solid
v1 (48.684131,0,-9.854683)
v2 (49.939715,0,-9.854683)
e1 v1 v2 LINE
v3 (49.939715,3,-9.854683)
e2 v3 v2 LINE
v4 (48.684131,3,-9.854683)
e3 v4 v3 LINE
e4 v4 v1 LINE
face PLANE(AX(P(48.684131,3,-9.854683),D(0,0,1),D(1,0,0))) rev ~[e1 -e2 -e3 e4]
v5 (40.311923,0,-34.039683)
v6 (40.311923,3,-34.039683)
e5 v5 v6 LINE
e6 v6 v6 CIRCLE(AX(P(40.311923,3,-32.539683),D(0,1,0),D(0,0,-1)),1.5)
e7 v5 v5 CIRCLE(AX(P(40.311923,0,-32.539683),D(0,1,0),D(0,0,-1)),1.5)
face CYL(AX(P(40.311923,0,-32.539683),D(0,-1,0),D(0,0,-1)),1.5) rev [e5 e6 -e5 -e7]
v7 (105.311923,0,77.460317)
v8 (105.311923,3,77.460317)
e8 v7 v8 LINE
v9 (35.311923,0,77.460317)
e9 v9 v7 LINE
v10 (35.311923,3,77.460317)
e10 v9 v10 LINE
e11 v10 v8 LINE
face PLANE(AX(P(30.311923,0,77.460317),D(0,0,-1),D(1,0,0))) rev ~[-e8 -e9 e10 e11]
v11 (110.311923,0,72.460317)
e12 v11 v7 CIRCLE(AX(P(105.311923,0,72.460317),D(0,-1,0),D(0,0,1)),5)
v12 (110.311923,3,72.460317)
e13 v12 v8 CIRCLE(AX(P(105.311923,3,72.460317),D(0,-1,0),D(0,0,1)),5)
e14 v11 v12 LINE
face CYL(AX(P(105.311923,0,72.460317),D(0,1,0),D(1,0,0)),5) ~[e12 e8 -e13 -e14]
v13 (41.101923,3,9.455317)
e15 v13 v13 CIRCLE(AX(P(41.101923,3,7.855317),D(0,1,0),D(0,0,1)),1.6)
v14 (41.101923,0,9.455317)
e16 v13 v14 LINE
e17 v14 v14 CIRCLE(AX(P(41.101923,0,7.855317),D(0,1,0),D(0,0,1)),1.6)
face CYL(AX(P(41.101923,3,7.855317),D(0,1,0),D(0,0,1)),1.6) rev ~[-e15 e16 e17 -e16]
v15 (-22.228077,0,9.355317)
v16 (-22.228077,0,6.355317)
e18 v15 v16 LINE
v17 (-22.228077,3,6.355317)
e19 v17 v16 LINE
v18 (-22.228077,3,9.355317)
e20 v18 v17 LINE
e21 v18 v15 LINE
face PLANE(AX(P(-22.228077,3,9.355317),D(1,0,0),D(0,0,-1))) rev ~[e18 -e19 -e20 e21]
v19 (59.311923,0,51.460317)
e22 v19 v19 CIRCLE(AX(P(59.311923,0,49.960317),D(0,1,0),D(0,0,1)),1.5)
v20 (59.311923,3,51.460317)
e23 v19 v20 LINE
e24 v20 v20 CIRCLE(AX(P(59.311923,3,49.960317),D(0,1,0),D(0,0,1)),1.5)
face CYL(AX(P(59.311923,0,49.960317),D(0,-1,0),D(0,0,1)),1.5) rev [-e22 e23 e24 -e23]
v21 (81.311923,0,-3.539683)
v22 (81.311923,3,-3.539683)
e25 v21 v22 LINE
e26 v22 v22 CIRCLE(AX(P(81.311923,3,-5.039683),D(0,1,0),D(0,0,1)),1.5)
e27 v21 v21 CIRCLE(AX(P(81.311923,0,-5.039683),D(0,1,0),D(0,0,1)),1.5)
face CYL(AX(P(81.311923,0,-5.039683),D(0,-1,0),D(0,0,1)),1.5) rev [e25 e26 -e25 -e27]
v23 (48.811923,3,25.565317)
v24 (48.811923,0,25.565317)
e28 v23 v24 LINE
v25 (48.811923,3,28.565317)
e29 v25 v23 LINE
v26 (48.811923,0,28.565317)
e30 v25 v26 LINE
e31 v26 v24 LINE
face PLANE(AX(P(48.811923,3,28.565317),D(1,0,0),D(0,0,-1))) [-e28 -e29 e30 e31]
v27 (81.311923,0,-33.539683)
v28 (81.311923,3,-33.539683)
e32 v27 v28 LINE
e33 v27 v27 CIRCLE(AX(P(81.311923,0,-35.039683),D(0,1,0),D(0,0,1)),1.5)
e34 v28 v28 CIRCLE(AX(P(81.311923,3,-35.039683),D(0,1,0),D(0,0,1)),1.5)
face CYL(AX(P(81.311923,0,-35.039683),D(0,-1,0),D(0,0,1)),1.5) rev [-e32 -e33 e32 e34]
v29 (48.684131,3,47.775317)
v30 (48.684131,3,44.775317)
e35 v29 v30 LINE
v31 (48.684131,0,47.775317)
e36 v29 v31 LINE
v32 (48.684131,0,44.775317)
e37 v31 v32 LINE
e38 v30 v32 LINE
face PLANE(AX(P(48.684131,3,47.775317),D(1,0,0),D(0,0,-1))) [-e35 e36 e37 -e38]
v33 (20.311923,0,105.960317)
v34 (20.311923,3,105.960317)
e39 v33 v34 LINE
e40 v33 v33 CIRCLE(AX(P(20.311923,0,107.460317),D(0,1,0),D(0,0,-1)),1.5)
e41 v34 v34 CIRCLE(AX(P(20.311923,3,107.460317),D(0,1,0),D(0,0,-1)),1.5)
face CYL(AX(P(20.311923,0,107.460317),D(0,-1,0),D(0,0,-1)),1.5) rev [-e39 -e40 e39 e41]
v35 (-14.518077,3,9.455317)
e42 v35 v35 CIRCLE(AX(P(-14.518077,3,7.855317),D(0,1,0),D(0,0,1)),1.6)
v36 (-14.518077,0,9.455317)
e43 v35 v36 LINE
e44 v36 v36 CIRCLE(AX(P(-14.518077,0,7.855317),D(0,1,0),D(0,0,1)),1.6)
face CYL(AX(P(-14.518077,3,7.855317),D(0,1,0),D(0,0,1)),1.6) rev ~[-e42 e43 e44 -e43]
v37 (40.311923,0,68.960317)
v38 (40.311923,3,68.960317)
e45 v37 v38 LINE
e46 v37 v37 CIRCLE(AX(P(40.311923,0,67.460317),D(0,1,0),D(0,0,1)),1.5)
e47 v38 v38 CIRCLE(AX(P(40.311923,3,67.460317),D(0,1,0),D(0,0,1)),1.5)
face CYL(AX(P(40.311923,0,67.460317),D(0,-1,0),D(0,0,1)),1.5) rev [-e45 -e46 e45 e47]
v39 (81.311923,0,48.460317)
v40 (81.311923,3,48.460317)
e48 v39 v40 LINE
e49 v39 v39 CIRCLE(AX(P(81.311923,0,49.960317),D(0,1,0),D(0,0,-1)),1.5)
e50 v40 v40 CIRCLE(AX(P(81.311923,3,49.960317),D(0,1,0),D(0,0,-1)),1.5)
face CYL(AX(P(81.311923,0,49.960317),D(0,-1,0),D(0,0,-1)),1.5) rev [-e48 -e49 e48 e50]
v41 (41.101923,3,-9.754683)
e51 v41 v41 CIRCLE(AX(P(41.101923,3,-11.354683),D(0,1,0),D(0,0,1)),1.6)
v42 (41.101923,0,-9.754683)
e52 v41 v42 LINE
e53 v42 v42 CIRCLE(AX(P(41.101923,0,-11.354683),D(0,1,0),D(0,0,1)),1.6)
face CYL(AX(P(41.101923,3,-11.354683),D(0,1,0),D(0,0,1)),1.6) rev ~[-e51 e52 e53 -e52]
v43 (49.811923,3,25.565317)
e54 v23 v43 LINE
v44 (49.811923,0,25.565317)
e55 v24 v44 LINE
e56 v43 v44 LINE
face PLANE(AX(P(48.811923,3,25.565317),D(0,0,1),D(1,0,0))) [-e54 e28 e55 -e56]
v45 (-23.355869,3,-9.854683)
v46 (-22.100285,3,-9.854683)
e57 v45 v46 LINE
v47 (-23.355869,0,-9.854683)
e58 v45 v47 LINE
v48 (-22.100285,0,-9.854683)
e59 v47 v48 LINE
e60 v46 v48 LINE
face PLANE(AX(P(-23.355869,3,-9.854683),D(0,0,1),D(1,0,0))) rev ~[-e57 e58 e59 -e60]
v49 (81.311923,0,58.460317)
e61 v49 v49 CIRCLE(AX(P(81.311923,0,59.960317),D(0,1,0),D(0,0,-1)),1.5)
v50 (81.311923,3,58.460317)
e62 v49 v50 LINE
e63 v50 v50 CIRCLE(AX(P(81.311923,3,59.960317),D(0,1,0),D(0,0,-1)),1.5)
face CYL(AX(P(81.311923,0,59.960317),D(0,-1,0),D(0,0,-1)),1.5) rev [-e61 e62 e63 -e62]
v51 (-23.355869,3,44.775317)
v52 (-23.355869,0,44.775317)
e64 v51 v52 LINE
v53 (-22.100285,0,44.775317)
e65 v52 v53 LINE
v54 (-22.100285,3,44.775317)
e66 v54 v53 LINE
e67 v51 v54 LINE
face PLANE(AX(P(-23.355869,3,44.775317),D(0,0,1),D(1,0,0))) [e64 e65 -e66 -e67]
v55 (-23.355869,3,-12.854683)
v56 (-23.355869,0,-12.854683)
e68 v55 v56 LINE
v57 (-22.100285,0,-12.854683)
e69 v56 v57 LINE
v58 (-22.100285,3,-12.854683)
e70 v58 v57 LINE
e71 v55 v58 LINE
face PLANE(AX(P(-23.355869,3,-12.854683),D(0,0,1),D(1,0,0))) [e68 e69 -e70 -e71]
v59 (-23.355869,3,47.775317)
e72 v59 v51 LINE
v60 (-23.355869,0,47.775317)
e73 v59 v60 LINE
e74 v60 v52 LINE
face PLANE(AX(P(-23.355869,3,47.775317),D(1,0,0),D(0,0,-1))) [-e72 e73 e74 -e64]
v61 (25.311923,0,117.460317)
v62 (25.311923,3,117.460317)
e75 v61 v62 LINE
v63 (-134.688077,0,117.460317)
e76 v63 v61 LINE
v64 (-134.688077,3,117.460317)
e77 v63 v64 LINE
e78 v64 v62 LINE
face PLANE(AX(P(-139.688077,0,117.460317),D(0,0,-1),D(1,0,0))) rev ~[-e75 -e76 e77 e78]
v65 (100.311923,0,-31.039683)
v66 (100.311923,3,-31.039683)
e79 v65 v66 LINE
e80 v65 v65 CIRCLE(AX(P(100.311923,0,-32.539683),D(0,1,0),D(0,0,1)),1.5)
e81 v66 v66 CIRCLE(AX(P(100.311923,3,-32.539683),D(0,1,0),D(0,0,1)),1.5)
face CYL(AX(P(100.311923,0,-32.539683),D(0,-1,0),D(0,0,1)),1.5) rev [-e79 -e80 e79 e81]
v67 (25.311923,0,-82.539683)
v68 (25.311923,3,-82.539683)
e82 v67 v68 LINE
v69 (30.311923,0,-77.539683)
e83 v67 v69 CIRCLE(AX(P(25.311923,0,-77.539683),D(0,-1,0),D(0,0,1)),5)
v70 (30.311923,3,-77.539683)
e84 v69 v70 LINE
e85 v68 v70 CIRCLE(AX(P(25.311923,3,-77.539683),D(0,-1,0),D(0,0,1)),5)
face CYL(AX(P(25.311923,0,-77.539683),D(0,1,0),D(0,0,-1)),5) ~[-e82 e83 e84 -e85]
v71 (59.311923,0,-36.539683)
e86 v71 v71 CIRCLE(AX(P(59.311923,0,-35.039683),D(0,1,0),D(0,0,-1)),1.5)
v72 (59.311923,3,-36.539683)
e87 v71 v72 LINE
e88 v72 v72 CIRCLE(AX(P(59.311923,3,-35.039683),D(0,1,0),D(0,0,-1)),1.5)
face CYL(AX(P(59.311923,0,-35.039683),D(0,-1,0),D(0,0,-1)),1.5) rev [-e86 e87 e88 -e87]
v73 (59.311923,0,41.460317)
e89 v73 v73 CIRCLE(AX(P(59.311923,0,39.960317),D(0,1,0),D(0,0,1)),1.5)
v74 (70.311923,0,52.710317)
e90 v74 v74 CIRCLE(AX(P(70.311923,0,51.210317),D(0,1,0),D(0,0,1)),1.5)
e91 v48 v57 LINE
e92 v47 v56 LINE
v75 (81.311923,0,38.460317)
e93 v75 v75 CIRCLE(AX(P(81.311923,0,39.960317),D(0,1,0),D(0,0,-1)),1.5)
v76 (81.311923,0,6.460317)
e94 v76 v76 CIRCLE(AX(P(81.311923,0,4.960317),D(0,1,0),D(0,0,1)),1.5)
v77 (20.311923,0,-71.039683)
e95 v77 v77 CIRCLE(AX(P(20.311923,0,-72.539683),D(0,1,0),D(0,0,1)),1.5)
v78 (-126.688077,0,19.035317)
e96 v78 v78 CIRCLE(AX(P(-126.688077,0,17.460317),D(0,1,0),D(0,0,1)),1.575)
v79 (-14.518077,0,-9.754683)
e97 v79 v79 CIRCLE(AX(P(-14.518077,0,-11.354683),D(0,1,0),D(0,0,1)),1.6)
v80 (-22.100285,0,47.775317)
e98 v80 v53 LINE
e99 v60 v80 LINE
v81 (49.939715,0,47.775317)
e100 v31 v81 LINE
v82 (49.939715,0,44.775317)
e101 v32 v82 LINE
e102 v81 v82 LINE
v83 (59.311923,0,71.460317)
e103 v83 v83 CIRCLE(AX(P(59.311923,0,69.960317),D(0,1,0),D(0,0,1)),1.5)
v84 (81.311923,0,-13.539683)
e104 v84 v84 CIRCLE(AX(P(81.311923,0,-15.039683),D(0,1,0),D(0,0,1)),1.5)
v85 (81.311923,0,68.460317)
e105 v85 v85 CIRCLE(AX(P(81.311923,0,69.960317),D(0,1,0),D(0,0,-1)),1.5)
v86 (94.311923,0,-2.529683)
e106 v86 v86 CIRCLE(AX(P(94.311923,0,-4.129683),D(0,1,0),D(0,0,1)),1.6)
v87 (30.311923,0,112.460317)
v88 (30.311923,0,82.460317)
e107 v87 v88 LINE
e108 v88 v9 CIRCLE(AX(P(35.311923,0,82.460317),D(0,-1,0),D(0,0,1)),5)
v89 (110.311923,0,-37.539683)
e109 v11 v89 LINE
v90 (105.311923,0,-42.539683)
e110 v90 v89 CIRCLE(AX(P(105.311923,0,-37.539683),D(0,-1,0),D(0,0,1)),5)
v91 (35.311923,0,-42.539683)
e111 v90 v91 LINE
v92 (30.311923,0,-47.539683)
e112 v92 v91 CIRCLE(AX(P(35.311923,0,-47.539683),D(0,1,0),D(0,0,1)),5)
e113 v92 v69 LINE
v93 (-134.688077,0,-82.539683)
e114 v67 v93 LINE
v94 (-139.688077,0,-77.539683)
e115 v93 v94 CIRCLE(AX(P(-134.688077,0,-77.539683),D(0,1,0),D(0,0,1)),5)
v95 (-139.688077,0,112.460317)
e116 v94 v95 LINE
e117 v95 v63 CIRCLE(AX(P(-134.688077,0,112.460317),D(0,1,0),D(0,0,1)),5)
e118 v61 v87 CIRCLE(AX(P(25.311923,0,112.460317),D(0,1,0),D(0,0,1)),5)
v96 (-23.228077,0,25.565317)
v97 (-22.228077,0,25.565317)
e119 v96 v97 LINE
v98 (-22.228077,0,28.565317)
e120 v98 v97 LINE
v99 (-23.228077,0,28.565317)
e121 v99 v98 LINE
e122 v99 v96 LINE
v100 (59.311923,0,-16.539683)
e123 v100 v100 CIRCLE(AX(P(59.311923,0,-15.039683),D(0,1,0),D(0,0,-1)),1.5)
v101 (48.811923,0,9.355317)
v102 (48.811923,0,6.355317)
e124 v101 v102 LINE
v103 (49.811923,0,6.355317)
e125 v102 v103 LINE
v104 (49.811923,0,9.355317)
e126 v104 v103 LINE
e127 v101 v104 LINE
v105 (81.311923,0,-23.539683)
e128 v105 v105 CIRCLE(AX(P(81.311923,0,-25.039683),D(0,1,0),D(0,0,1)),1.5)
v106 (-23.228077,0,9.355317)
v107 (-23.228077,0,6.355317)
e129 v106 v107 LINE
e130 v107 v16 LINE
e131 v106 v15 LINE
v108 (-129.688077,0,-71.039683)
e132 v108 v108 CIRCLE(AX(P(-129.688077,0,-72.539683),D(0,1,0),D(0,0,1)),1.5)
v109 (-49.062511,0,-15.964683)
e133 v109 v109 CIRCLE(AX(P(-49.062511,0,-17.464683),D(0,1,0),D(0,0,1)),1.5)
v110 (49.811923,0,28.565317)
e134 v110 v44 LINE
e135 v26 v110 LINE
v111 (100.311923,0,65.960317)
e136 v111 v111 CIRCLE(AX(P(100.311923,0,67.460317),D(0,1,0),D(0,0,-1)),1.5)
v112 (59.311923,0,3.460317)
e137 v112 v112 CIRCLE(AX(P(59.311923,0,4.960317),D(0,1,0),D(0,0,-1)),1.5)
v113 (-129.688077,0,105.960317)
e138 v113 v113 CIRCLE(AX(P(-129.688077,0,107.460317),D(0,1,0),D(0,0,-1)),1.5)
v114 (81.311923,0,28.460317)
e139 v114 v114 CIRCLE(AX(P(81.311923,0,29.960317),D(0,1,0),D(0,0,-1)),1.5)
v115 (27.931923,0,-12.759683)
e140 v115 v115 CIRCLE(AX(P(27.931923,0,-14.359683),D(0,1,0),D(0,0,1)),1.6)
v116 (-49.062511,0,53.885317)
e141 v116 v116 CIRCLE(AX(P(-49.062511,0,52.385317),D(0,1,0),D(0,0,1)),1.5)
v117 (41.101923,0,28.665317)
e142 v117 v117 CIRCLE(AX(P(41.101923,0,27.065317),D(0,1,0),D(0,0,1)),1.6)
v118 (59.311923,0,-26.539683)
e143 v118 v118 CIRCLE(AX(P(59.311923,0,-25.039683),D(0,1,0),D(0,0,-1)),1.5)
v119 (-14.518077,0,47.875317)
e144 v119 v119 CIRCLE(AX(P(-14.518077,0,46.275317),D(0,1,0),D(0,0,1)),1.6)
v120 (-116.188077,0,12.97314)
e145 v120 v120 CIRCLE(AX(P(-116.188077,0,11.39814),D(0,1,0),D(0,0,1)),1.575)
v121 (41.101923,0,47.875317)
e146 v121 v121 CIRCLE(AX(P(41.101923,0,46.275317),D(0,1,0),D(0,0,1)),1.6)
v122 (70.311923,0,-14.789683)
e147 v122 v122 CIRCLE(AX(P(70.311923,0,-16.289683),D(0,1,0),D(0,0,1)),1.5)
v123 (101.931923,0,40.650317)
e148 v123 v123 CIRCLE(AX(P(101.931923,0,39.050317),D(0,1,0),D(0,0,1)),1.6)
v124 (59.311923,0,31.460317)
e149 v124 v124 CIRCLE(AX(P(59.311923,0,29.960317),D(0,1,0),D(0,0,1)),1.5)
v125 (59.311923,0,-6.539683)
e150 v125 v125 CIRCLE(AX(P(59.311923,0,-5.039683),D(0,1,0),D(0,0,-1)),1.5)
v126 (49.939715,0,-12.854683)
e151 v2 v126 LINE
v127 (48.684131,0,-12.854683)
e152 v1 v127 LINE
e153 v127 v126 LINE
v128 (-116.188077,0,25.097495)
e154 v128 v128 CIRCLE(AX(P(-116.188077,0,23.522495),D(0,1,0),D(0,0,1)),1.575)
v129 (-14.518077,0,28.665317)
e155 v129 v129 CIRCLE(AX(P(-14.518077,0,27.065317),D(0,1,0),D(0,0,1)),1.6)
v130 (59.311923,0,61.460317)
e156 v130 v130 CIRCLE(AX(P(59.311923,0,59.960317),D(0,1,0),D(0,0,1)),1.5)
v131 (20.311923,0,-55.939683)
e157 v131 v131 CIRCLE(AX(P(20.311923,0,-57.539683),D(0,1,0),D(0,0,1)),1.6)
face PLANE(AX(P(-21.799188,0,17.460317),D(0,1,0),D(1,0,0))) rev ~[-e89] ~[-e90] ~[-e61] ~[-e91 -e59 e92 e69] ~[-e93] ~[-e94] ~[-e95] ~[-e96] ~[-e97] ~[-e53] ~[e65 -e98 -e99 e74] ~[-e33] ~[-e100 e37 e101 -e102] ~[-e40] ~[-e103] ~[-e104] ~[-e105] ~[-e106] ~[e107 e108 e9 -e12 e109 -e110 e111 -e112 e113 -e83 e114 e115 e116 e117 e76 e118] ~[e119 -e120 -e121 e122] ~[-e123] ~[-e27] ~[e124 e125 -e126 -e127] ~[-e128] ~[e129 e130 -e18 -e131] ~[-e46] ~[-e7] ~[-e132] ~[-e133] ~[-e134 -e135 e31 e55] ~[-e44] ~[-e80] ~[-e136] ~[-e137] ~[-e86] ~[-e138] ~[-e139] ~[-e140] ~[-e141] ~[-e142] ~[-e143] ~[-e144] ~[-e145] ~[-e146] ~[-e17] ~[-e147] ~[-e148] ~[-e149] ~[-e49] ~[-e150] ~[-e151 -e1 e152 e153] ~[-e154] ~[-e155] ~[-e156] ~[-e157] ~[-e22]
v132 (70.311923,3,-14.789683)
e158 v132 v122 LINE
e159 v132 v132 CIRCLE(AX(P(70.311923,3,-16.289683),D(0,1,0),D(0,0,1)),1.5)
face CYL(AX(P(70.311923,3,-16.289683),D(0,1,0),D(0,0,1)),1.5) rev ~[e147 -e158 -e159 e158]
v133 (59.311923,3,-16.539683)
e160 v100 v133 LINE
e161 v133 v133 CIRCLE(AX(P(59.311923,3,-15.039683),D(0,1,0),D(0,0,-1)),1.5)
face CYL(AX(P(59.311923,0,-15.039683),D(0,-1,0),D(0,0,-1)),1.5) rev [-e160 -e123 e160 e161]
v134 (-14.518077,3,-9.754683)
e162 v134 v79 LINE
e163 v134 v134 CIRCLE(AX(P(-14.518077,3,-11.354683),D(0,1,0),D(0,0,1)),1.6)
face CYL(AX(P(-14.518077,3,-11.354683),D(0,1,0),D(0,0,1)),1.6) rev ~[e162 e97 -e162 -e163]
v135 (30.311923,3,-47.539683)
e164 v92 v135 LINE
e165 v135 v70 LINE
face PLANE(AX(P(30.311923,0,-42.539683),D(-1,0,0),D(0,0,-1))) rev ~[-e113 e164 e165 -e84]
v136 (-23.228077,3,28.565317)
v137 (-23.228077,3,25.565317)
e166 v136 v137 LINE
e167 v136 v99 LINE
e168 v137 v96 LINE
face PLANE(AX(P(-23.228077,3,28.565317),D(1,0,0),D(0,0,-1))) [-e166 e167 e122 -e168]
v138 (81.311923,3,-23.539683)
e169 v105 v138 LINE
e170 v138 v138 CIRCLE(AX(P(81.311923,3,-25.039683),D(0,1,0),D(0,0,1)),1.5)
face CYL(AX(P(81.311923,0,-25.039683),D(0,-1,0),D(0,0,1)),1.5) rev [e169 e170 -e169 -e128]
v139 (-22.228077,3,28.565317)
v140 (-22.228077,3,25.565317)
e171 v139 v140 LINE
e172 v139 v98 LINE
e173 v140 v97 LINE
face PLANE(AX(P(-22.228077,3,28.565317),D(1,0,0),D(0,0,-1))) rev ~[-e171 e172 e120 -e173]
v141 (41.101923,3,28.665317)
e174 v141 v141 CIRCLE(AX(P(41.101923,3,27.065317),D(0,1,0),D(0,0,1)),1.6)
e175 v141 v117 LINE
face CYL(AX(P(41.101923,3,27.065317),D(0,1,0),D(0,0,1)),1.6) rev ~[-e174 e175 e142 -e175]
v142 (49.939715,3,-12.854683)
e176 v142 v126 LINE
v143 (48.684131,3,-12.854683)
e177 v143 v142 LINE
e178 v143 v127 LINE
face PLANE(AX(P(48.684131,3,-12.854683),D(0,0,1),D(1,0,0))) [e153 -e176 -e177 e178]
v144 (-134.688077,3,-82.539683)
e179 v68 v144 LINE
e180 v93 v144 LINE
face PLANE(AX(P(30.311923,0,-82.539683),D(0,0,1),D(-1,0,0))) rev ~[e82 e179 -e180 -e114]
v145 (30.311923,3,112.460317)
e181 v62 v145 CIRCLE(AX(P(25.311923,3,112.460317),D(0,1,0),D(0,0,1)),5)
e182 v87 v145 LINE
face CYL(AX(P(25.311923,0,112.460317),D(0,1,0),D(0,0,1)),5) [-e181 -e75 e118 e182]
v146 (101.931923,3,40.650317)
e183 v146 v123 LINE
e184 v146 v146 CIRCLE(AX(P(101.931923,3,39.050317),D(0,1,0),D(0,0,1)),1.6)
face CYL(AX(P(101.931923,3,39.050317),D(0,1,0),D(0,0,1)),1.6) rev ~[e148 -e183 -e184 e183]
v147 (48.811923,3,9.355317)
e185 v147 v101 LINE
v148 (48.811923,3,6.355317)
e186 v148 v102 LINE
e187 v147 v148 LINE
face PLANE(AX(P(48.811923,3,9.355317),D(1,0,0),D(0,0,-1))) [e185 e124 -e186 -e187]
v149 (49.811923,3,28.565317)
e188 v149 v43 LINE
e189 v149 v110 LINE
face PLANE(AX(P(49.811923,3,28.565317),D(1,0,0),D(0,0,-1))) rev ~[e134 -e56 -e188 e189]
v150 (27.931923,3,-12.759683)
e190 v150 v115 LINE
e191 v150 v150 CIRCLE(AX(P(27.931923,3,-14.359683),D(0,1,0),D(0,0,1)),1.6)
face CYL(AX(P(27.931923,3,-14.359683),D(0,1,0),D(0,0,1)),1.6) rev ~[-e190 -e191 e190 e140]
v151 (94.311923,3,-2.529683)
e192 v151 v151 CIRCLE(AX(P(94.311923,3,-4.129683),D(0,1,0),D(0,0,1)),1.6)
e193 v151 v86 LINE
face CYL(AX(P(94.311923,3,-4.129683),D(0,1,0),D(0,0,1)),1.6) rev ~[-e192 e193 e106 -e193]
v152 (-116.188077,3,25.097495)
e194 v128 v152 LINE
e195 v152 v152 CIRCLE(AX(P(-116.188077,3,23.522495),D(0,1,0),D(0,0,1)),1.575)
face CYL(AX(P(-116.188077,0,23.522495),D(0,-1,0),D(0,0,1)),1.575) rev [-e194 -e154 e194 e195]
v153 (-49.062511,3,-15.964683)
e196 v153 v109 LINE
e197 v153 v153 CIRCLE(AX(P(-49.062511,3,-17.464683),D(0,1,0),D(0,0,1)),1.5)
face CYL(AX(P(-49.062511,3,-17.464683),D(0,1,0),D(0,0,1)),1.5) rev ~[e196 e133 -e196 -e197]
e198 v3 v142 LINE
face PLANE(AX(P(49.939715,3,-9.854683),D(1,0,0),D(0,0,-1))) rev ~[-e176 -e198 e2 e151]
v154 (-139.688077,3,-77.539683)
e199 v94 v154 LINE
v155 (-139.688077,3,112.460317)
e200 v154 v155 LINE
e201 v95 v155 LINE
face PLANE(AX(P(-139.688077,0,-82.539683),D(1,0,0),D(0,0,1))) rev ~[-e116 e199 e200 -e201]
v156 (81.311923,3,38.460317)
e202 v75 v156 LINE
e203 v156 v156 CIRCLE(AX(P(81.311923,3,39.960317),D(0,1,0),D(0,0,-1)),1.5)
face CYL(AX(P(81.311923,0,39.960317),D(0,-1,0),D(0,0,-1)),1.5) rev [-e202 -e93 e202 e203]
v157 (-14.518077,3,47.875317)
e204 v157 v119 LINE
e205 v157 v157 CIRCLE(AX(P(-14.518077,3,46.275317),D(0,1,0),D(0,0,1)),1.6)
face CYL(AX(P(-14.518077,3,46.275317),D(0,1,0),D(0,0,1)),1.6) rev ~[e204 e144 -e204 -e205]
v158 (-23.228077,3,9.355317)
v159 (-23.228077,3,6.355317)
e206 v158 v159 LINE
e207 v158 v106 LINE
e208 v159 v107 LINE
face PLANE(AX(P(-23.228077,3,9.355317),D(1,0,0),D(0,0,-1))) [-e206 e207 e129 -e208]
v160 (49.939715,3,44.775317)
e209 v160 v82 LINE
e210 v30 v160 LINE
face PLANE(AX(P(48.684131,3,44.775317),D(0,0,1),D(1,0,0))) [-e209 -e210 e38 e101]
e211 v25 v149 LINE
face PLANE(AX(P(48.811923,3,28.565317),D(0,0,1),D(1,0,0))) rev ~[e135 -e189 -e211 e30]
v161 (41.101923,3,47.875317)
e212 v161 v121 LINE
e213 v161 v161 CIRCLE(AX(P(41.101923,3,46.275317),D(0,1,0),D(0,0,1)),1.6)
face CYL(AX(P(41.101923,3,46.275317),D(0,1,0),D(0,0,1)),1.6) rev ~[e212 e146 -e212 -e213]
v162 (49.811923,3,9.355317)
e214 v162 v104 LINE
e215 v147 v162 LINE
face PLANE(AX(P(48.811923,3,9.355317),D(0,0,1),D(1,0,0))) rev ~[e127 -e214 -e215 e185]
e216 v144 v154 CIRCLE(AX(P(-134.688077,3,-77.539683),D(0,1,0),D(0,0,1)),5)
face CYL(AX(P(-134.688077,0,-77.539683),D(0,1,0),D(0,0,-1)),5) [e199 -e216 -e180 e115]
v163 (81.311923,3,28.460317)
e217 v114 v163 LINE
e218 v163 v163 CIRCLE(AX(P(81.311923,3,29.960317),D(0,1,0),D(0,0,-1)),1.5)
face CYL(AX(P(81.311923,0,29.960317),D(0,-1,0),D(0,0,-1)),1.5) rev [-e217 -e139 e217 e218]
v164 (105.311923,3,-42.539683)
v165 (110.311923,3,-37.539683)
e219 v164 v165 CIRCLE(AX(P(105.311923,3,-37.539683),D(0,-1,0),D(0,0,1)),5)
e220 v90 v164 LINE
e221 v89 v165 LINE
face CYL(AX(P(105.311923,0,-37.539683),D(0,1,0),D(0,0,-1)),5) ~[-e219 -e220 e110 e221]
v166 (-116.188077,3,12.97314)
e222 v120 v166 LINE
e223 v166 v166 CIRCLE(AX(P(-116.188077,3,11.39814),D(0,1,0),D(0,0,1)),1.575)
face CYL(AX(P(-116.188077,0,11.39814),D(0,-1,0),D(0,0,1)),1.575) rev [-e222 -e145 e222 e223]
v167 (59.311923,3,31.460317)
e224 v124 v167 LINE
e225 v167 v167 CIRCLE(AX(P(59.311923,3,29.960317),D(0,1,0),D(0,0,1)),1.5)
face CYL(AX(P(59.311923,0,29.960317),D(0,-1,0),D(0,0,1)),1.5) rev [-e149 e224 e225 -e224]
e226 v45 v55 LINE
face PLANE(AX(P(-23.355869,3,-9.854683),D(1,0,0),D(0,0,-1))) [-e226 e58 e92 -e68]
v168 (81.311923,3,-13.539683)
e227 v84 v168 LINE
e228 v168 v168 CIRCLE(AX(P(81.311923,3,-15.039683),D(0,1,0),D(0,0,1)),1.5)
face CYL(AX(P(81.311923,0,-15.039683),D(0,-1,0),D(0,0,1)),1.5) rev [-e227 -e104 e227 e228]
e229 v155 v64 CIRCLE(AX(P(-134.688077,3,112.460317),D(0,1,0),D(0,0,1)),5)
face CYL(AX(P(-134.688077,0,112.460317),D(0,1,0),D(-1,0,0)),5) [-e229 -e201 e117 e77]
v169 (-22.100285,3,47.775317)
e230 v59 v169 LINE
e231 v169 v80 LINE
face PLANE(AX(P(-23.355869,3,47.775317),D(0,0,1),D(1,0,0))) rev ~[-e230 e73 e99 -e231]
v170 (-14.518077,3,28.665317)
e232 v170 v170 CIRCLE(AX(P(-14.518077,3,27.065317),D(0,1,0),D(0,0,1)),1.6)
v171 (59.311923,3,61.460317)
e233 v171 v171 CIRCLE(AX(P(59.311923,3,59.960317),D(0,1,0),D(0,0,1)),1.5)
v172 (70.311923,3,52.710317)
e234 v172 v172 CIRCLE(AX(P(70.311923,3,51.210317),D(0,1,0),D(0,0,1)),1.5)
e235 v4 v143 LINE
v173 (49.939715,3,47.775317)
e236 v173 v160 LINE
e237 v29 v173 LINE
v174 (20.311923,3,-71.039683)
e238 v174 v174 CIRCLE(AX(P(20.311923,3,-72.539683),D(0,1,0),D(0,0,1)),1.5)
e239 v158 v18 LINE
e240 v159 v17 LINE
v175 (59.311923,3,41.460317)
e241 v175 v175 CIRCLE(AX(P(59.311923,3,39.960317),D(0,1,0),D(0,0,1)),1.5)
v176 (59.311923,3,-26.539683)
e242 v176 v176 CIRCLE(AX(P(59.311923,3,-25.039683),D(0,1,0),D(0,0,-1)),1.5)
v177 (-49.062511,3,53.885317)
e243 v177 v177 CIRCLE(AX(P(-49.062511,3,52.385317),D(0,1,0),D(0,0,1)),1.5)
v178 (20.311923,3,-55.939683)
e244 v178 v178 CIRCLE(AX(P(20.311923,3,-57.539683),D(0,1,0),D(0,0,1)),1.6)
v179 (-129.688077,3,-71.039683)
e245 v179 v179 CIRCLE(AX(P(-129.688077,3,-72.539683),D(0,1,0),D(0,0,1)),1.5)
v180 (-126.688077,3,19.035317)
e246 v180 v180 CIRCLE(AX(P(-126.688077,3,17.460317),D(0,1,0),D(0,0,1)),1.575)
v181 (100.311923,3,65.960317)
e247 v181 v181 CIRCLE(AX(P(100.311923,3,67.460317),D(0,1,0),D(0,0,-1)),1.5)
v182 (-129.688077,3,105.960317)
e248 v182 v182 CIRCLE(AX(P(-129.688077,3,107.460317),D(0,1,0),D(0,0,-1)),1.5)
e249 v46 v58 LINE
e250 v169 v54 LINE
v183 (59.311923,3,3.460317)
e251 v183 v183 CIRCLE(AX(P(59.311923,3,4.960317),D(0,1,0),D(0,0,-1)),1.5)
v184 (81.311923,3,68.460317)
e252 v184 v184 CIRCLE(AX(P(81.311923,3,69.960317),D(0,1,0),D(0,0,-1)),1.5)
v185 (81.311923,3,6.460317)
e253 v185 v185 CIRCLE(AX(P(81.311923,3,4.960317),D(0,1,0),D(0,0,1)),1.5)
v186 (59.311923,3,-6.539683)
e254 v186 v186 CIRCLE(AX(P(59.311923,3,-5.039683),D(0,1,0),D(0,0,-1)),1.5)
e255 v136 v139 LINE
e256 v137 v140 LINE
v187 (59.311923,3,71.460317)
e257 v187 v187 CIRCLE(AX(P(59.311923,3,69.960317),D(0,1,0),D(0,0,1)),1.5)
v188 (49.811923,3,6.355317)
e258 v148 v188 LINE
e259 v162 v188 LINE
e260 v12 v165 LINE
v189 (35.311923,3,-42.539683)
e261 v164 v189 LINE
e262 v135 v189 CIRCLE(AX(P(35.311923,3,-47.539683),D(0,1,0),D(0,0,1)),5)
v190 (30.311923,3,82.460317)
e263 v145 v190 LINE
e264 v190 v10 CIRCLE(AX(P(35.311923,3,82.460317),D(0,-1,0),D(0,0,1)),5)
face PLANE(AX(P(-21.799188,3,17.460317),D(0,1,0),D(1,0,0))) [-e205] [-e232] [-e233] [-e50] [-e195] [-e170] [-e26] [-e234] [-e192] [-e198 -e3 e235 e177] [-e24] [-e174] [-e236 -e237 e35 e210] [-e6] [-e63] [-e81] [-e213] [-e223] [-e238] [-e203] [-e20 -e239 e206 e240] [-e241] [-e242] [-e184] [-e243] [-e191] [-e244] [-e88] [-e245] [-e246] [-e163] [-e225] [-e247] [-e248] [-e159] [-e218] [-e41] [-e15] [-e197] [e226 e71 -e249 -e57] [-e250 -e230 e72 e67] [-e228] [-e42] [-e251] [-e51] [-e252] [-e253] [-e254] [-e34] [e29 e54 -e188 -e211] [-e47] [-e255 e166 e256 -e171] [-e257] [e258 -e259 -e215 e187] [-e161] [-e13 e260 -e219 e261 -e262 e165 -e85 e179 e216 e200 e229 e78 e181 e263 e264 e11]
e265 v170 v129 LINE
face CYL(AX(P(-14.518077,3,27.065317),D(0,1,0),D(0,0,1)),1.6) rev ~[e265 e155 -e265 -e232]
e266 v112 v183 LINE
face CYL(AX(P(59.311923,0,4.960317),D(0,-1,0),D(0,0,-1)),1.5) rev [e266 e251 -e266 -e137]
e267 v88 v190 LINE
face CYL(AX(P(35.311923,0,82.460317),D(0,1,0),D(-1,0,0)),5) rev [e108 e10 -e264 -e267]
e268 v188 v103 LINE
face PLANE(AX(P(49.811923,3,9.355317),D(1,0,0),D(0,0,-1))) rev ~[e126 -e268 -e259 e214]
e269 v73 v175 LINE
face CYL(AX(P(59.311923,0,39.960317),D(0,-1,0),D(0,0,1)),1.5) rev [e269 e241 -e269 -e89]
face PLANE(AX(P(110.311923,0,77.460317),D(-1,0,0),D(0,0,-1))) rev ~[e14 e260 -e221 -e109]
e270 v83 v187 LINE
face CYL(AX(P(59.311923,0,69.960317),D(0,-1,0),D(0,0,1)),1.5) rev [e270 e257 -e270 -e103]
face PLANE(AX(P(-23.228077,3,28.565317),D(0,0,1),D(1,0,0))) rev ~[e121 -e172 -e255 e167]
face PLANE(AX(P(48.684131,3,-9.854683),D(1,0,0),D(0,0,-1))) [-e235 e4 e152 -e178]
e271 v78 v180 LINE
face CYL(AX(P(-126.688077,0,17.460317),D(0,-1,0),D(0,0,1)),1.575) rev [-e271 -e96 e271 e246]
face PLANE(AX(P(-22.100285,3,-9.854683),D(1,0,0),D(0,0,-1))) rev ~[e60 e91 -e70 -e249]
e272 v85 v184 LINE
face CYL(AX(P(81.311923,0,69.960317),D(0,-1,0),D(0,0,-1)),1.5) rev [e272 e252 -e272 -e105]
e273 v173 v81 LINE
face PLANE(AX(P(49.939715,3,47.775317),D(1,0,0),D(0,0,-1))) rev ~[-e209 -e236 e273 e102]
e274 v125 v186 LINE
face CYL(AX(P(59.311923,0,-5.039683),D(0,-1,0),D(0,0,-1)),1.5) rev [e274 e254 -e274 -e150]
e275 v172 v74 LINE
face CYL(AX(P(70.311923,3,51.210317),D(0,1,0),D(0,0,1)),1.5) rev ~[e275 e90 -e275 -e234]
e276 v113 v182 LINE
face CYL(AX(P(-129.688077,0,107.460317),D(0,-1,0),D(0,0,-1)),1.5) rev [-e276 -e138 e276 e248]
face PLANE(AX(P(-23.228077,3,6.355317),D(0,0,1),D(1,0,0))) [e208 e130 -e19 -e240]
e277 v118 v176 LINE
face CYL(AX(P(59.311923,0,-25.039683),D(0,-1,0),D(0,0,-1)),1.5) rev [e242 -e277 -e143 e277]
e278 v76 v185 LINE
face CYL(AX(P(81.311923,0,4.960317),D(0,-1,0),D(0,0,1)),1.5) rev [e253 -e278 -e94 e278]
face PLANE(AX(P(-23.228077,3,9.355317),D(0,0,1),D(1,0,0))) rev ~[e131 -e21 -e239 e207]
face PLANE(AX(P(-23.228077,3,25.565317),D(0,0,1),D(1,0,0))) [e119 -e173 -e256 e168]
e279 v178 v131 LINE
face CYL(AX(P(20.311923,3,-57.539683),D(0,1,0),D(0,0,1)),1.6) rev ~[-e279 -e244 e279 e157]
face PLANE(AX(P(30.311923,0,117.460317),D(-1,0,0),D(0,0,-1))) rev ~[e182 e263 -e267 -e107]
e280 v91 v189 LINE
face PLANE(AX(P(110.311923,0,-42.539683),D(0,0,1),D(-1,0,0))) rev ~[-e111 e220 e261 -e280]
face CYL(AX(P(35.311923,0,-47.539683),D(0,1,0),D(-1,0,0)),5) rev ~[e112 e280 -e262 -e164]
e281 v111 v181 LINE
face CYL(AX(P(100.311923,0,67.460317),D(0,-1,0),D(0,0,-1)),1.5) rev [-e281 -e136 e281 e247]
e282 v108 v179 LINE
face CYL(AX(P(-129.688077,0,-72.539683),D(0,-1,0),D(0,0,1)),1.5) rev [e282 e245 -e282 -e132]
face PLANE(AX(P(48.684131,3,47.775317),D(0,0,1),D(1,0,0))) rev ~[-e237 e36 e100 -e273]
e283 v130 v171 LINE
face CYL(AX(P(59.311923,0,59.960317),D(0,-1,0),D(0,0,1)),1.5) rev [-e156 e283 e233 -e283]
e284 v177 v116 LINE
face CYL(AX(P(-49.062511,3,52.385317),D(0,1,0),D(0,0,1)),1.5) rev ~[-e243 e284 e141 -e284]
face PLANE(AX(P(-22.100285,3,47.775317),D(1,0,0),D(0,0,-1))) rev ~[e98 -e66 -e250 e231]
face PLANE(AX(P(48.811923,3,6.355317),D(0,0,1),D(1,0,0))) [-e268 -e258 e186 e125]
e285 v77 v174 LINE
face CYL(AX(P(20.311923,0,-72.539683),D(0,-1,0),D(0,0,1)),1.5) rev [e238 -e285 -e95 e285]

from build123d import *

# Parameters (mm, degrees)
SKETCH1_R           = 1.575
SKETCH1_R_2         = 1.5
BOSS_EXTRUDE1_DEPTH = 3
FILLET1_R           = 5
SKETCH2_R           = 1.6
SKETCH2_R_2         = 1.5
SKETCH2_W           = 1
SKETCH2_H           = 3
SKETCH2_W_2         = 1.255583802
CUT_EXTRUDE1_DEPTH  = 3


with BuildPart() as part:
    # Sketch1 → Boss-Extrude1 (new body)
    with BuildSketch(Plane(origin=(0, 0, 0), x_dir=(1, 0, 0), z_dir=(0, 1, 0))):
        Polygon((30.311923219, 82.53968254), (-139.688076781, 82.53968254), (-139.688076781, -117.46031746), (30.311923219, -117.46031746), (30.311923219, -77.46031746), (110.311923219, -77.46031746), (110.311923219, 42.53968254), (30.311923219, 42.53968254), align=None)
        with Locations(Location((-126.688076781, -17.46031746, 0), (0, 0, 270))):
            Circle(SKETCH1_R, mode=Mode.SUBTRACT)
        with Locations(Location((-116.188076781, -11.398139634, 0), (0, 0, 270))):
            Circle(SKETCH1_R, mode=Mode.SUBTRACT)
        with Locations(Location((-116.188076781, -23.522495287, 0), (0, 0, 270))):
            Circle(SKETCH1_R, mode=Mode.SUBTRACT)
        with Locations(Location((-129.688076781, 72.53968254, 0), (0, 0, 270))):
            Circle(SKETCH1_R_2, mode=Mode.SUBTRACT)
        with Locations(Location((20.311923219, 72.53968254, 0), (0, 0, 270))):
            Circle(SKETCH1_R_2, mode=Mode.SUBTRACT)
        with Locations(Location((81.311923219, 35.03968254, 0), (0, 0, 270))):
            Circle(SKETCH1_R_2, mode=Mode.SUBTRACT)
        with Locations(Location((81.311923219, 25.03968254, 0), (0, 0, 270))):
            Circle(SKETCH1_R_2, mode=Mode.SUBTRACT)
        with Locations(Location((81.311923219, 15.03968254, 0), (0, 0, 270))):
            Circle(SKETCH1_R_2, mode=Mode.SUBTRACT)
        with Locations(Location((81.311923219, 5.03968254, 0), (0, 0, 270))):
            Circle(SKETCH1_R_2, mode=Mode.SUBTRACT)
        with Locations(Location((81.311923219, -4.96031746, 0), (0, 0, 270))):
            Circle(SKETCH1_R_2, mode=Mode.SUBTRACT)
        with Locations(Location((59.311923219, -4.96031746, 0), (0, 0, 90))):
            Circle(SKETCH1_R_2, mode=Mode.SUBTRACT)
        with Locations(Location((59.311923219, 5.03968254, 0), (0, 0, 90))):
            Circle(SKETCH1_R_2, mode=Mode.SUBTRACT)
        with Locations(Location((59.311923219, 15.03968254, 0), (0, 0, 90))):
            Circle(SKETCH1_R_2, mode=Mode.SUBTRACT)
        with Locations(Location((59.311923219, 25.03968254, 0), (0, 0, 90))):
            Circle(SKETCH1_R_2, mode=Mode.SUBTRACT)
        with Locations(Location((59.311923219, 35.03968254, 0), (0, 0, 90))):
            Circle(SKETCH1_R_2, mode=Mode.SUBTRACT)
        with Locations(Location((81.311923219, -69.96031746, 0), (0, 0, 90))):
            Circle(SKETCH1_R_2, mode=Mode.SUBTRACT)
        with Locations(Location((81.311923219, -59.96031746, 0), (0, 0, 90))):
            Circle(SKETCH1_R_2, mode=Mode.SUBTRACT)
        with Locations(Location((81.311923219, -49.96031746, 0), (0, 0, 90))):
            Circle(SKETCH1_R_2, mode=Mode.SUBTRACT)
        with Locations(Location((81.311923219, -39.96031746, 0), (0, 0, 90))):
            Circle(SKETCH1_R_2, mode=Mode.SUBTRACT)
        with Locations(Location((81.311923219, -29.96031746, 0), (0, 0, 90))):
            Circle(SKETCH1_R_2, mode=Mode.SUBTRACT)
        with Locations(Location((59.311923219, -29.96031746, 0), (0, 0, 270))):
            Circle(SKETCH1_R_2, mode=Mode.SUBTRACT)
        with Locations(Location((59.311923219, -39.96031746, 0), (0, 0, 270))):
            Circle(SKETCH1_R_2, mode=Mode.SUBTRACT)
        with Locations(Location((59.311923219, -49.96031746, 0), (0, 0, 270))):
            Circle(SKETCH1_R_2, mode=Mode.SUBTRACT)
        with Locations(Location((59.311923219, -59.96031746, 0), (0, 0, 270))):
            Circle(SKETCH1_R_2, mode=Mode.SUBTRACT)
        with Locations(Location((59.311923219, -69.96031746, 0), (0, 0, 270))):
            Circle(SKETCH1_R_2, mode=Mode.SUBTRACT)
        with Locations(Location((100.311923219, 32.53968254, 0), (0, 0, 270))):
            Circle(SKETCH1_R_2, mode=Mode.SUBTRACT)
        with Locations(Location((40.311923219, 32.53968254, 0), (0, 0, 90))):
            Circle(SKETCH1_R_2, mode=Mode.SUBTRACT)
        with Locations(Location((100.311923219, -67.46031746, 0), (0, 0, 90))):
            Circle(SKETCH1_R_2, mode=Mode.SUBTRACT)
        with Locations(Location((40.311923219, -67.46031746, 0), (0, 0, 270))):
            Circle(SKETCH1_R_2, mode=Mode.SUBTRACT)
        with Locations(Location((20.311923219, -107.46031746, 0), (0, 0, 90))):
            Circle(SKETCH1_R_2, mode=Mode.SUBTRACT)
        with Locations(Location((-129.688076781, -107.46031746, 0), (0, 0, 90))):
            Circle(SKETCH1_R_2, mode=Mode.SUBTRACT)
    extrude(amount=BOSS_EXTRUDE1_DEPTH)

    # Fillet1
    fillet1_edges = [part.edges().sort_by_distance(p)[0] for p in [
        (-139.688076781, 1.5, -82.53968254),
        (30.311923219, 1.5, -82.53968254),
        (30.311923219, 1.5, -42.53968254),
        (110.311923219, 1.5, -42.53968254),
        (110.311923219, 1.5, 77.46031746),
        (30.311923219, 1.5, 77.46031746),
        (30.311923219, 1.5, 117.46031746),
        (-139.688076781, 1.5, 117.46031746),
    ]]
    fillet(fillet1_edges, radius=FILLET1_R)

    # Sketch2 → Cut-Extrude1 (cut)
    with BuildSketch(Plane(origin=(0, 3, 0), x_dir=(1, 0, 0), z_dir=(0, 1, 0))):
        with Locations(Location((101.931923219, -39.05031746, 0), (0, 0, 270))):
            Circle(SKETCH2_R)
        with Locations(Location((94.311923219, 4.12968254, 0), (0, 0, 270))):
            Circle(SKETCH2_R)
        with Locations(Location((41.101923219, -7.85531746, 0), (0, 0, 270))):
            Circle(SKETCH2_R)
        with Locations(Location((41.101923219, 11.35468254, 0), (0, 0, 270))):
            Circle(SKETCH2_R)
        with Locations(Location((41.101923219, -46.27531746, 0), (0, 0, 270))):
            Circle(SKETCH2_R)
        with Locations(Location((41.101923219, -27.06531746, 0), (0, 0, 270))):
            Circle(SKETCH2_R)
        with Locations(Location((-14.518076781, -7.85531746, 0), (0, 0, 270))):
            Circle(SKETCH2_R)
        with Locations(Location((-14.518076781, 11.35468254, 0), (0, 0, 270))):
            Circle(SKETCH2_R)
        with Locations(Location((-14.518076781, -27.06531746, 0), (0, 0, 270))):
            Circle(SKETCH2_R)
        with Locations(Location((-14.518076781, -46.27531746, 0), (0, 0, 270))):
            Circle(SKETCH2_R)
        with Locations(Location((-49.062510974, -52.38531746, 0), (0, 0, 270))):
            Circle(SKETCH2_R_2)
        with Locations(Location((-49.062510974, 17.46468254, 0), (0, 0, 270))):
            Circle(SKETCH2_R_2)
        with Locations(Location((70.311923219, -51.21031746, 0), (0, 0, 270))):
            Circle(SKETCH2_R_2)
        with Locations(Location((70.311923219, 16.28968254, 0), (0, 0, 270))):
            Circle(SKETCH2_R_2)
        with Locations(Location((27.931923219, 14.35968254, 0), (0, 0, 270))):
            Circle(SKETCH2_R)
        with Locations(Location((20.311923219, 57.53968254, 0), (0, 0, 270))):
            Circle(SKETCH2_R)
        with Locations((49.311923219, -7.85531746)):
            Rectangle(SKETCH2_W, SKETCH2_H)
        with Locations((49.311923219, -27.06531746)):
            Rectangle(SKETCH2_W, SKETCH2_H)
        with Locations((49.311923219, -46.27531746)):
            Rectangle(SKETCH2_W_2, SKETCH2_H)
        with Locations((49.311923219, 11.35468254)):
            Rectangle(SKETCH2_W_2, SKETCH2_H)
        with Locations((-22.728076781, 11.35468254)):
            Rectangle(SKETCH2_W_2, SKETCH2_H)
        with Locations((-22.728076781, -7.85531746)):
            Rectangle(SKETCH2_W, SKETCH2_H)
        with Locations((-22.728076781, -27.06531746)):
            Rectangle(SKETCH2_W, SKETCH2_H)
        with Locations((-22.728076781, -46.27531746)):
            Rectangle(SKETCH2_W_2, SKETCH2_H)
    extrude(amount=-CUT_EXTRUDE1_DEPTH, mode=Mode.SUBTRACT)


solid = part.part
